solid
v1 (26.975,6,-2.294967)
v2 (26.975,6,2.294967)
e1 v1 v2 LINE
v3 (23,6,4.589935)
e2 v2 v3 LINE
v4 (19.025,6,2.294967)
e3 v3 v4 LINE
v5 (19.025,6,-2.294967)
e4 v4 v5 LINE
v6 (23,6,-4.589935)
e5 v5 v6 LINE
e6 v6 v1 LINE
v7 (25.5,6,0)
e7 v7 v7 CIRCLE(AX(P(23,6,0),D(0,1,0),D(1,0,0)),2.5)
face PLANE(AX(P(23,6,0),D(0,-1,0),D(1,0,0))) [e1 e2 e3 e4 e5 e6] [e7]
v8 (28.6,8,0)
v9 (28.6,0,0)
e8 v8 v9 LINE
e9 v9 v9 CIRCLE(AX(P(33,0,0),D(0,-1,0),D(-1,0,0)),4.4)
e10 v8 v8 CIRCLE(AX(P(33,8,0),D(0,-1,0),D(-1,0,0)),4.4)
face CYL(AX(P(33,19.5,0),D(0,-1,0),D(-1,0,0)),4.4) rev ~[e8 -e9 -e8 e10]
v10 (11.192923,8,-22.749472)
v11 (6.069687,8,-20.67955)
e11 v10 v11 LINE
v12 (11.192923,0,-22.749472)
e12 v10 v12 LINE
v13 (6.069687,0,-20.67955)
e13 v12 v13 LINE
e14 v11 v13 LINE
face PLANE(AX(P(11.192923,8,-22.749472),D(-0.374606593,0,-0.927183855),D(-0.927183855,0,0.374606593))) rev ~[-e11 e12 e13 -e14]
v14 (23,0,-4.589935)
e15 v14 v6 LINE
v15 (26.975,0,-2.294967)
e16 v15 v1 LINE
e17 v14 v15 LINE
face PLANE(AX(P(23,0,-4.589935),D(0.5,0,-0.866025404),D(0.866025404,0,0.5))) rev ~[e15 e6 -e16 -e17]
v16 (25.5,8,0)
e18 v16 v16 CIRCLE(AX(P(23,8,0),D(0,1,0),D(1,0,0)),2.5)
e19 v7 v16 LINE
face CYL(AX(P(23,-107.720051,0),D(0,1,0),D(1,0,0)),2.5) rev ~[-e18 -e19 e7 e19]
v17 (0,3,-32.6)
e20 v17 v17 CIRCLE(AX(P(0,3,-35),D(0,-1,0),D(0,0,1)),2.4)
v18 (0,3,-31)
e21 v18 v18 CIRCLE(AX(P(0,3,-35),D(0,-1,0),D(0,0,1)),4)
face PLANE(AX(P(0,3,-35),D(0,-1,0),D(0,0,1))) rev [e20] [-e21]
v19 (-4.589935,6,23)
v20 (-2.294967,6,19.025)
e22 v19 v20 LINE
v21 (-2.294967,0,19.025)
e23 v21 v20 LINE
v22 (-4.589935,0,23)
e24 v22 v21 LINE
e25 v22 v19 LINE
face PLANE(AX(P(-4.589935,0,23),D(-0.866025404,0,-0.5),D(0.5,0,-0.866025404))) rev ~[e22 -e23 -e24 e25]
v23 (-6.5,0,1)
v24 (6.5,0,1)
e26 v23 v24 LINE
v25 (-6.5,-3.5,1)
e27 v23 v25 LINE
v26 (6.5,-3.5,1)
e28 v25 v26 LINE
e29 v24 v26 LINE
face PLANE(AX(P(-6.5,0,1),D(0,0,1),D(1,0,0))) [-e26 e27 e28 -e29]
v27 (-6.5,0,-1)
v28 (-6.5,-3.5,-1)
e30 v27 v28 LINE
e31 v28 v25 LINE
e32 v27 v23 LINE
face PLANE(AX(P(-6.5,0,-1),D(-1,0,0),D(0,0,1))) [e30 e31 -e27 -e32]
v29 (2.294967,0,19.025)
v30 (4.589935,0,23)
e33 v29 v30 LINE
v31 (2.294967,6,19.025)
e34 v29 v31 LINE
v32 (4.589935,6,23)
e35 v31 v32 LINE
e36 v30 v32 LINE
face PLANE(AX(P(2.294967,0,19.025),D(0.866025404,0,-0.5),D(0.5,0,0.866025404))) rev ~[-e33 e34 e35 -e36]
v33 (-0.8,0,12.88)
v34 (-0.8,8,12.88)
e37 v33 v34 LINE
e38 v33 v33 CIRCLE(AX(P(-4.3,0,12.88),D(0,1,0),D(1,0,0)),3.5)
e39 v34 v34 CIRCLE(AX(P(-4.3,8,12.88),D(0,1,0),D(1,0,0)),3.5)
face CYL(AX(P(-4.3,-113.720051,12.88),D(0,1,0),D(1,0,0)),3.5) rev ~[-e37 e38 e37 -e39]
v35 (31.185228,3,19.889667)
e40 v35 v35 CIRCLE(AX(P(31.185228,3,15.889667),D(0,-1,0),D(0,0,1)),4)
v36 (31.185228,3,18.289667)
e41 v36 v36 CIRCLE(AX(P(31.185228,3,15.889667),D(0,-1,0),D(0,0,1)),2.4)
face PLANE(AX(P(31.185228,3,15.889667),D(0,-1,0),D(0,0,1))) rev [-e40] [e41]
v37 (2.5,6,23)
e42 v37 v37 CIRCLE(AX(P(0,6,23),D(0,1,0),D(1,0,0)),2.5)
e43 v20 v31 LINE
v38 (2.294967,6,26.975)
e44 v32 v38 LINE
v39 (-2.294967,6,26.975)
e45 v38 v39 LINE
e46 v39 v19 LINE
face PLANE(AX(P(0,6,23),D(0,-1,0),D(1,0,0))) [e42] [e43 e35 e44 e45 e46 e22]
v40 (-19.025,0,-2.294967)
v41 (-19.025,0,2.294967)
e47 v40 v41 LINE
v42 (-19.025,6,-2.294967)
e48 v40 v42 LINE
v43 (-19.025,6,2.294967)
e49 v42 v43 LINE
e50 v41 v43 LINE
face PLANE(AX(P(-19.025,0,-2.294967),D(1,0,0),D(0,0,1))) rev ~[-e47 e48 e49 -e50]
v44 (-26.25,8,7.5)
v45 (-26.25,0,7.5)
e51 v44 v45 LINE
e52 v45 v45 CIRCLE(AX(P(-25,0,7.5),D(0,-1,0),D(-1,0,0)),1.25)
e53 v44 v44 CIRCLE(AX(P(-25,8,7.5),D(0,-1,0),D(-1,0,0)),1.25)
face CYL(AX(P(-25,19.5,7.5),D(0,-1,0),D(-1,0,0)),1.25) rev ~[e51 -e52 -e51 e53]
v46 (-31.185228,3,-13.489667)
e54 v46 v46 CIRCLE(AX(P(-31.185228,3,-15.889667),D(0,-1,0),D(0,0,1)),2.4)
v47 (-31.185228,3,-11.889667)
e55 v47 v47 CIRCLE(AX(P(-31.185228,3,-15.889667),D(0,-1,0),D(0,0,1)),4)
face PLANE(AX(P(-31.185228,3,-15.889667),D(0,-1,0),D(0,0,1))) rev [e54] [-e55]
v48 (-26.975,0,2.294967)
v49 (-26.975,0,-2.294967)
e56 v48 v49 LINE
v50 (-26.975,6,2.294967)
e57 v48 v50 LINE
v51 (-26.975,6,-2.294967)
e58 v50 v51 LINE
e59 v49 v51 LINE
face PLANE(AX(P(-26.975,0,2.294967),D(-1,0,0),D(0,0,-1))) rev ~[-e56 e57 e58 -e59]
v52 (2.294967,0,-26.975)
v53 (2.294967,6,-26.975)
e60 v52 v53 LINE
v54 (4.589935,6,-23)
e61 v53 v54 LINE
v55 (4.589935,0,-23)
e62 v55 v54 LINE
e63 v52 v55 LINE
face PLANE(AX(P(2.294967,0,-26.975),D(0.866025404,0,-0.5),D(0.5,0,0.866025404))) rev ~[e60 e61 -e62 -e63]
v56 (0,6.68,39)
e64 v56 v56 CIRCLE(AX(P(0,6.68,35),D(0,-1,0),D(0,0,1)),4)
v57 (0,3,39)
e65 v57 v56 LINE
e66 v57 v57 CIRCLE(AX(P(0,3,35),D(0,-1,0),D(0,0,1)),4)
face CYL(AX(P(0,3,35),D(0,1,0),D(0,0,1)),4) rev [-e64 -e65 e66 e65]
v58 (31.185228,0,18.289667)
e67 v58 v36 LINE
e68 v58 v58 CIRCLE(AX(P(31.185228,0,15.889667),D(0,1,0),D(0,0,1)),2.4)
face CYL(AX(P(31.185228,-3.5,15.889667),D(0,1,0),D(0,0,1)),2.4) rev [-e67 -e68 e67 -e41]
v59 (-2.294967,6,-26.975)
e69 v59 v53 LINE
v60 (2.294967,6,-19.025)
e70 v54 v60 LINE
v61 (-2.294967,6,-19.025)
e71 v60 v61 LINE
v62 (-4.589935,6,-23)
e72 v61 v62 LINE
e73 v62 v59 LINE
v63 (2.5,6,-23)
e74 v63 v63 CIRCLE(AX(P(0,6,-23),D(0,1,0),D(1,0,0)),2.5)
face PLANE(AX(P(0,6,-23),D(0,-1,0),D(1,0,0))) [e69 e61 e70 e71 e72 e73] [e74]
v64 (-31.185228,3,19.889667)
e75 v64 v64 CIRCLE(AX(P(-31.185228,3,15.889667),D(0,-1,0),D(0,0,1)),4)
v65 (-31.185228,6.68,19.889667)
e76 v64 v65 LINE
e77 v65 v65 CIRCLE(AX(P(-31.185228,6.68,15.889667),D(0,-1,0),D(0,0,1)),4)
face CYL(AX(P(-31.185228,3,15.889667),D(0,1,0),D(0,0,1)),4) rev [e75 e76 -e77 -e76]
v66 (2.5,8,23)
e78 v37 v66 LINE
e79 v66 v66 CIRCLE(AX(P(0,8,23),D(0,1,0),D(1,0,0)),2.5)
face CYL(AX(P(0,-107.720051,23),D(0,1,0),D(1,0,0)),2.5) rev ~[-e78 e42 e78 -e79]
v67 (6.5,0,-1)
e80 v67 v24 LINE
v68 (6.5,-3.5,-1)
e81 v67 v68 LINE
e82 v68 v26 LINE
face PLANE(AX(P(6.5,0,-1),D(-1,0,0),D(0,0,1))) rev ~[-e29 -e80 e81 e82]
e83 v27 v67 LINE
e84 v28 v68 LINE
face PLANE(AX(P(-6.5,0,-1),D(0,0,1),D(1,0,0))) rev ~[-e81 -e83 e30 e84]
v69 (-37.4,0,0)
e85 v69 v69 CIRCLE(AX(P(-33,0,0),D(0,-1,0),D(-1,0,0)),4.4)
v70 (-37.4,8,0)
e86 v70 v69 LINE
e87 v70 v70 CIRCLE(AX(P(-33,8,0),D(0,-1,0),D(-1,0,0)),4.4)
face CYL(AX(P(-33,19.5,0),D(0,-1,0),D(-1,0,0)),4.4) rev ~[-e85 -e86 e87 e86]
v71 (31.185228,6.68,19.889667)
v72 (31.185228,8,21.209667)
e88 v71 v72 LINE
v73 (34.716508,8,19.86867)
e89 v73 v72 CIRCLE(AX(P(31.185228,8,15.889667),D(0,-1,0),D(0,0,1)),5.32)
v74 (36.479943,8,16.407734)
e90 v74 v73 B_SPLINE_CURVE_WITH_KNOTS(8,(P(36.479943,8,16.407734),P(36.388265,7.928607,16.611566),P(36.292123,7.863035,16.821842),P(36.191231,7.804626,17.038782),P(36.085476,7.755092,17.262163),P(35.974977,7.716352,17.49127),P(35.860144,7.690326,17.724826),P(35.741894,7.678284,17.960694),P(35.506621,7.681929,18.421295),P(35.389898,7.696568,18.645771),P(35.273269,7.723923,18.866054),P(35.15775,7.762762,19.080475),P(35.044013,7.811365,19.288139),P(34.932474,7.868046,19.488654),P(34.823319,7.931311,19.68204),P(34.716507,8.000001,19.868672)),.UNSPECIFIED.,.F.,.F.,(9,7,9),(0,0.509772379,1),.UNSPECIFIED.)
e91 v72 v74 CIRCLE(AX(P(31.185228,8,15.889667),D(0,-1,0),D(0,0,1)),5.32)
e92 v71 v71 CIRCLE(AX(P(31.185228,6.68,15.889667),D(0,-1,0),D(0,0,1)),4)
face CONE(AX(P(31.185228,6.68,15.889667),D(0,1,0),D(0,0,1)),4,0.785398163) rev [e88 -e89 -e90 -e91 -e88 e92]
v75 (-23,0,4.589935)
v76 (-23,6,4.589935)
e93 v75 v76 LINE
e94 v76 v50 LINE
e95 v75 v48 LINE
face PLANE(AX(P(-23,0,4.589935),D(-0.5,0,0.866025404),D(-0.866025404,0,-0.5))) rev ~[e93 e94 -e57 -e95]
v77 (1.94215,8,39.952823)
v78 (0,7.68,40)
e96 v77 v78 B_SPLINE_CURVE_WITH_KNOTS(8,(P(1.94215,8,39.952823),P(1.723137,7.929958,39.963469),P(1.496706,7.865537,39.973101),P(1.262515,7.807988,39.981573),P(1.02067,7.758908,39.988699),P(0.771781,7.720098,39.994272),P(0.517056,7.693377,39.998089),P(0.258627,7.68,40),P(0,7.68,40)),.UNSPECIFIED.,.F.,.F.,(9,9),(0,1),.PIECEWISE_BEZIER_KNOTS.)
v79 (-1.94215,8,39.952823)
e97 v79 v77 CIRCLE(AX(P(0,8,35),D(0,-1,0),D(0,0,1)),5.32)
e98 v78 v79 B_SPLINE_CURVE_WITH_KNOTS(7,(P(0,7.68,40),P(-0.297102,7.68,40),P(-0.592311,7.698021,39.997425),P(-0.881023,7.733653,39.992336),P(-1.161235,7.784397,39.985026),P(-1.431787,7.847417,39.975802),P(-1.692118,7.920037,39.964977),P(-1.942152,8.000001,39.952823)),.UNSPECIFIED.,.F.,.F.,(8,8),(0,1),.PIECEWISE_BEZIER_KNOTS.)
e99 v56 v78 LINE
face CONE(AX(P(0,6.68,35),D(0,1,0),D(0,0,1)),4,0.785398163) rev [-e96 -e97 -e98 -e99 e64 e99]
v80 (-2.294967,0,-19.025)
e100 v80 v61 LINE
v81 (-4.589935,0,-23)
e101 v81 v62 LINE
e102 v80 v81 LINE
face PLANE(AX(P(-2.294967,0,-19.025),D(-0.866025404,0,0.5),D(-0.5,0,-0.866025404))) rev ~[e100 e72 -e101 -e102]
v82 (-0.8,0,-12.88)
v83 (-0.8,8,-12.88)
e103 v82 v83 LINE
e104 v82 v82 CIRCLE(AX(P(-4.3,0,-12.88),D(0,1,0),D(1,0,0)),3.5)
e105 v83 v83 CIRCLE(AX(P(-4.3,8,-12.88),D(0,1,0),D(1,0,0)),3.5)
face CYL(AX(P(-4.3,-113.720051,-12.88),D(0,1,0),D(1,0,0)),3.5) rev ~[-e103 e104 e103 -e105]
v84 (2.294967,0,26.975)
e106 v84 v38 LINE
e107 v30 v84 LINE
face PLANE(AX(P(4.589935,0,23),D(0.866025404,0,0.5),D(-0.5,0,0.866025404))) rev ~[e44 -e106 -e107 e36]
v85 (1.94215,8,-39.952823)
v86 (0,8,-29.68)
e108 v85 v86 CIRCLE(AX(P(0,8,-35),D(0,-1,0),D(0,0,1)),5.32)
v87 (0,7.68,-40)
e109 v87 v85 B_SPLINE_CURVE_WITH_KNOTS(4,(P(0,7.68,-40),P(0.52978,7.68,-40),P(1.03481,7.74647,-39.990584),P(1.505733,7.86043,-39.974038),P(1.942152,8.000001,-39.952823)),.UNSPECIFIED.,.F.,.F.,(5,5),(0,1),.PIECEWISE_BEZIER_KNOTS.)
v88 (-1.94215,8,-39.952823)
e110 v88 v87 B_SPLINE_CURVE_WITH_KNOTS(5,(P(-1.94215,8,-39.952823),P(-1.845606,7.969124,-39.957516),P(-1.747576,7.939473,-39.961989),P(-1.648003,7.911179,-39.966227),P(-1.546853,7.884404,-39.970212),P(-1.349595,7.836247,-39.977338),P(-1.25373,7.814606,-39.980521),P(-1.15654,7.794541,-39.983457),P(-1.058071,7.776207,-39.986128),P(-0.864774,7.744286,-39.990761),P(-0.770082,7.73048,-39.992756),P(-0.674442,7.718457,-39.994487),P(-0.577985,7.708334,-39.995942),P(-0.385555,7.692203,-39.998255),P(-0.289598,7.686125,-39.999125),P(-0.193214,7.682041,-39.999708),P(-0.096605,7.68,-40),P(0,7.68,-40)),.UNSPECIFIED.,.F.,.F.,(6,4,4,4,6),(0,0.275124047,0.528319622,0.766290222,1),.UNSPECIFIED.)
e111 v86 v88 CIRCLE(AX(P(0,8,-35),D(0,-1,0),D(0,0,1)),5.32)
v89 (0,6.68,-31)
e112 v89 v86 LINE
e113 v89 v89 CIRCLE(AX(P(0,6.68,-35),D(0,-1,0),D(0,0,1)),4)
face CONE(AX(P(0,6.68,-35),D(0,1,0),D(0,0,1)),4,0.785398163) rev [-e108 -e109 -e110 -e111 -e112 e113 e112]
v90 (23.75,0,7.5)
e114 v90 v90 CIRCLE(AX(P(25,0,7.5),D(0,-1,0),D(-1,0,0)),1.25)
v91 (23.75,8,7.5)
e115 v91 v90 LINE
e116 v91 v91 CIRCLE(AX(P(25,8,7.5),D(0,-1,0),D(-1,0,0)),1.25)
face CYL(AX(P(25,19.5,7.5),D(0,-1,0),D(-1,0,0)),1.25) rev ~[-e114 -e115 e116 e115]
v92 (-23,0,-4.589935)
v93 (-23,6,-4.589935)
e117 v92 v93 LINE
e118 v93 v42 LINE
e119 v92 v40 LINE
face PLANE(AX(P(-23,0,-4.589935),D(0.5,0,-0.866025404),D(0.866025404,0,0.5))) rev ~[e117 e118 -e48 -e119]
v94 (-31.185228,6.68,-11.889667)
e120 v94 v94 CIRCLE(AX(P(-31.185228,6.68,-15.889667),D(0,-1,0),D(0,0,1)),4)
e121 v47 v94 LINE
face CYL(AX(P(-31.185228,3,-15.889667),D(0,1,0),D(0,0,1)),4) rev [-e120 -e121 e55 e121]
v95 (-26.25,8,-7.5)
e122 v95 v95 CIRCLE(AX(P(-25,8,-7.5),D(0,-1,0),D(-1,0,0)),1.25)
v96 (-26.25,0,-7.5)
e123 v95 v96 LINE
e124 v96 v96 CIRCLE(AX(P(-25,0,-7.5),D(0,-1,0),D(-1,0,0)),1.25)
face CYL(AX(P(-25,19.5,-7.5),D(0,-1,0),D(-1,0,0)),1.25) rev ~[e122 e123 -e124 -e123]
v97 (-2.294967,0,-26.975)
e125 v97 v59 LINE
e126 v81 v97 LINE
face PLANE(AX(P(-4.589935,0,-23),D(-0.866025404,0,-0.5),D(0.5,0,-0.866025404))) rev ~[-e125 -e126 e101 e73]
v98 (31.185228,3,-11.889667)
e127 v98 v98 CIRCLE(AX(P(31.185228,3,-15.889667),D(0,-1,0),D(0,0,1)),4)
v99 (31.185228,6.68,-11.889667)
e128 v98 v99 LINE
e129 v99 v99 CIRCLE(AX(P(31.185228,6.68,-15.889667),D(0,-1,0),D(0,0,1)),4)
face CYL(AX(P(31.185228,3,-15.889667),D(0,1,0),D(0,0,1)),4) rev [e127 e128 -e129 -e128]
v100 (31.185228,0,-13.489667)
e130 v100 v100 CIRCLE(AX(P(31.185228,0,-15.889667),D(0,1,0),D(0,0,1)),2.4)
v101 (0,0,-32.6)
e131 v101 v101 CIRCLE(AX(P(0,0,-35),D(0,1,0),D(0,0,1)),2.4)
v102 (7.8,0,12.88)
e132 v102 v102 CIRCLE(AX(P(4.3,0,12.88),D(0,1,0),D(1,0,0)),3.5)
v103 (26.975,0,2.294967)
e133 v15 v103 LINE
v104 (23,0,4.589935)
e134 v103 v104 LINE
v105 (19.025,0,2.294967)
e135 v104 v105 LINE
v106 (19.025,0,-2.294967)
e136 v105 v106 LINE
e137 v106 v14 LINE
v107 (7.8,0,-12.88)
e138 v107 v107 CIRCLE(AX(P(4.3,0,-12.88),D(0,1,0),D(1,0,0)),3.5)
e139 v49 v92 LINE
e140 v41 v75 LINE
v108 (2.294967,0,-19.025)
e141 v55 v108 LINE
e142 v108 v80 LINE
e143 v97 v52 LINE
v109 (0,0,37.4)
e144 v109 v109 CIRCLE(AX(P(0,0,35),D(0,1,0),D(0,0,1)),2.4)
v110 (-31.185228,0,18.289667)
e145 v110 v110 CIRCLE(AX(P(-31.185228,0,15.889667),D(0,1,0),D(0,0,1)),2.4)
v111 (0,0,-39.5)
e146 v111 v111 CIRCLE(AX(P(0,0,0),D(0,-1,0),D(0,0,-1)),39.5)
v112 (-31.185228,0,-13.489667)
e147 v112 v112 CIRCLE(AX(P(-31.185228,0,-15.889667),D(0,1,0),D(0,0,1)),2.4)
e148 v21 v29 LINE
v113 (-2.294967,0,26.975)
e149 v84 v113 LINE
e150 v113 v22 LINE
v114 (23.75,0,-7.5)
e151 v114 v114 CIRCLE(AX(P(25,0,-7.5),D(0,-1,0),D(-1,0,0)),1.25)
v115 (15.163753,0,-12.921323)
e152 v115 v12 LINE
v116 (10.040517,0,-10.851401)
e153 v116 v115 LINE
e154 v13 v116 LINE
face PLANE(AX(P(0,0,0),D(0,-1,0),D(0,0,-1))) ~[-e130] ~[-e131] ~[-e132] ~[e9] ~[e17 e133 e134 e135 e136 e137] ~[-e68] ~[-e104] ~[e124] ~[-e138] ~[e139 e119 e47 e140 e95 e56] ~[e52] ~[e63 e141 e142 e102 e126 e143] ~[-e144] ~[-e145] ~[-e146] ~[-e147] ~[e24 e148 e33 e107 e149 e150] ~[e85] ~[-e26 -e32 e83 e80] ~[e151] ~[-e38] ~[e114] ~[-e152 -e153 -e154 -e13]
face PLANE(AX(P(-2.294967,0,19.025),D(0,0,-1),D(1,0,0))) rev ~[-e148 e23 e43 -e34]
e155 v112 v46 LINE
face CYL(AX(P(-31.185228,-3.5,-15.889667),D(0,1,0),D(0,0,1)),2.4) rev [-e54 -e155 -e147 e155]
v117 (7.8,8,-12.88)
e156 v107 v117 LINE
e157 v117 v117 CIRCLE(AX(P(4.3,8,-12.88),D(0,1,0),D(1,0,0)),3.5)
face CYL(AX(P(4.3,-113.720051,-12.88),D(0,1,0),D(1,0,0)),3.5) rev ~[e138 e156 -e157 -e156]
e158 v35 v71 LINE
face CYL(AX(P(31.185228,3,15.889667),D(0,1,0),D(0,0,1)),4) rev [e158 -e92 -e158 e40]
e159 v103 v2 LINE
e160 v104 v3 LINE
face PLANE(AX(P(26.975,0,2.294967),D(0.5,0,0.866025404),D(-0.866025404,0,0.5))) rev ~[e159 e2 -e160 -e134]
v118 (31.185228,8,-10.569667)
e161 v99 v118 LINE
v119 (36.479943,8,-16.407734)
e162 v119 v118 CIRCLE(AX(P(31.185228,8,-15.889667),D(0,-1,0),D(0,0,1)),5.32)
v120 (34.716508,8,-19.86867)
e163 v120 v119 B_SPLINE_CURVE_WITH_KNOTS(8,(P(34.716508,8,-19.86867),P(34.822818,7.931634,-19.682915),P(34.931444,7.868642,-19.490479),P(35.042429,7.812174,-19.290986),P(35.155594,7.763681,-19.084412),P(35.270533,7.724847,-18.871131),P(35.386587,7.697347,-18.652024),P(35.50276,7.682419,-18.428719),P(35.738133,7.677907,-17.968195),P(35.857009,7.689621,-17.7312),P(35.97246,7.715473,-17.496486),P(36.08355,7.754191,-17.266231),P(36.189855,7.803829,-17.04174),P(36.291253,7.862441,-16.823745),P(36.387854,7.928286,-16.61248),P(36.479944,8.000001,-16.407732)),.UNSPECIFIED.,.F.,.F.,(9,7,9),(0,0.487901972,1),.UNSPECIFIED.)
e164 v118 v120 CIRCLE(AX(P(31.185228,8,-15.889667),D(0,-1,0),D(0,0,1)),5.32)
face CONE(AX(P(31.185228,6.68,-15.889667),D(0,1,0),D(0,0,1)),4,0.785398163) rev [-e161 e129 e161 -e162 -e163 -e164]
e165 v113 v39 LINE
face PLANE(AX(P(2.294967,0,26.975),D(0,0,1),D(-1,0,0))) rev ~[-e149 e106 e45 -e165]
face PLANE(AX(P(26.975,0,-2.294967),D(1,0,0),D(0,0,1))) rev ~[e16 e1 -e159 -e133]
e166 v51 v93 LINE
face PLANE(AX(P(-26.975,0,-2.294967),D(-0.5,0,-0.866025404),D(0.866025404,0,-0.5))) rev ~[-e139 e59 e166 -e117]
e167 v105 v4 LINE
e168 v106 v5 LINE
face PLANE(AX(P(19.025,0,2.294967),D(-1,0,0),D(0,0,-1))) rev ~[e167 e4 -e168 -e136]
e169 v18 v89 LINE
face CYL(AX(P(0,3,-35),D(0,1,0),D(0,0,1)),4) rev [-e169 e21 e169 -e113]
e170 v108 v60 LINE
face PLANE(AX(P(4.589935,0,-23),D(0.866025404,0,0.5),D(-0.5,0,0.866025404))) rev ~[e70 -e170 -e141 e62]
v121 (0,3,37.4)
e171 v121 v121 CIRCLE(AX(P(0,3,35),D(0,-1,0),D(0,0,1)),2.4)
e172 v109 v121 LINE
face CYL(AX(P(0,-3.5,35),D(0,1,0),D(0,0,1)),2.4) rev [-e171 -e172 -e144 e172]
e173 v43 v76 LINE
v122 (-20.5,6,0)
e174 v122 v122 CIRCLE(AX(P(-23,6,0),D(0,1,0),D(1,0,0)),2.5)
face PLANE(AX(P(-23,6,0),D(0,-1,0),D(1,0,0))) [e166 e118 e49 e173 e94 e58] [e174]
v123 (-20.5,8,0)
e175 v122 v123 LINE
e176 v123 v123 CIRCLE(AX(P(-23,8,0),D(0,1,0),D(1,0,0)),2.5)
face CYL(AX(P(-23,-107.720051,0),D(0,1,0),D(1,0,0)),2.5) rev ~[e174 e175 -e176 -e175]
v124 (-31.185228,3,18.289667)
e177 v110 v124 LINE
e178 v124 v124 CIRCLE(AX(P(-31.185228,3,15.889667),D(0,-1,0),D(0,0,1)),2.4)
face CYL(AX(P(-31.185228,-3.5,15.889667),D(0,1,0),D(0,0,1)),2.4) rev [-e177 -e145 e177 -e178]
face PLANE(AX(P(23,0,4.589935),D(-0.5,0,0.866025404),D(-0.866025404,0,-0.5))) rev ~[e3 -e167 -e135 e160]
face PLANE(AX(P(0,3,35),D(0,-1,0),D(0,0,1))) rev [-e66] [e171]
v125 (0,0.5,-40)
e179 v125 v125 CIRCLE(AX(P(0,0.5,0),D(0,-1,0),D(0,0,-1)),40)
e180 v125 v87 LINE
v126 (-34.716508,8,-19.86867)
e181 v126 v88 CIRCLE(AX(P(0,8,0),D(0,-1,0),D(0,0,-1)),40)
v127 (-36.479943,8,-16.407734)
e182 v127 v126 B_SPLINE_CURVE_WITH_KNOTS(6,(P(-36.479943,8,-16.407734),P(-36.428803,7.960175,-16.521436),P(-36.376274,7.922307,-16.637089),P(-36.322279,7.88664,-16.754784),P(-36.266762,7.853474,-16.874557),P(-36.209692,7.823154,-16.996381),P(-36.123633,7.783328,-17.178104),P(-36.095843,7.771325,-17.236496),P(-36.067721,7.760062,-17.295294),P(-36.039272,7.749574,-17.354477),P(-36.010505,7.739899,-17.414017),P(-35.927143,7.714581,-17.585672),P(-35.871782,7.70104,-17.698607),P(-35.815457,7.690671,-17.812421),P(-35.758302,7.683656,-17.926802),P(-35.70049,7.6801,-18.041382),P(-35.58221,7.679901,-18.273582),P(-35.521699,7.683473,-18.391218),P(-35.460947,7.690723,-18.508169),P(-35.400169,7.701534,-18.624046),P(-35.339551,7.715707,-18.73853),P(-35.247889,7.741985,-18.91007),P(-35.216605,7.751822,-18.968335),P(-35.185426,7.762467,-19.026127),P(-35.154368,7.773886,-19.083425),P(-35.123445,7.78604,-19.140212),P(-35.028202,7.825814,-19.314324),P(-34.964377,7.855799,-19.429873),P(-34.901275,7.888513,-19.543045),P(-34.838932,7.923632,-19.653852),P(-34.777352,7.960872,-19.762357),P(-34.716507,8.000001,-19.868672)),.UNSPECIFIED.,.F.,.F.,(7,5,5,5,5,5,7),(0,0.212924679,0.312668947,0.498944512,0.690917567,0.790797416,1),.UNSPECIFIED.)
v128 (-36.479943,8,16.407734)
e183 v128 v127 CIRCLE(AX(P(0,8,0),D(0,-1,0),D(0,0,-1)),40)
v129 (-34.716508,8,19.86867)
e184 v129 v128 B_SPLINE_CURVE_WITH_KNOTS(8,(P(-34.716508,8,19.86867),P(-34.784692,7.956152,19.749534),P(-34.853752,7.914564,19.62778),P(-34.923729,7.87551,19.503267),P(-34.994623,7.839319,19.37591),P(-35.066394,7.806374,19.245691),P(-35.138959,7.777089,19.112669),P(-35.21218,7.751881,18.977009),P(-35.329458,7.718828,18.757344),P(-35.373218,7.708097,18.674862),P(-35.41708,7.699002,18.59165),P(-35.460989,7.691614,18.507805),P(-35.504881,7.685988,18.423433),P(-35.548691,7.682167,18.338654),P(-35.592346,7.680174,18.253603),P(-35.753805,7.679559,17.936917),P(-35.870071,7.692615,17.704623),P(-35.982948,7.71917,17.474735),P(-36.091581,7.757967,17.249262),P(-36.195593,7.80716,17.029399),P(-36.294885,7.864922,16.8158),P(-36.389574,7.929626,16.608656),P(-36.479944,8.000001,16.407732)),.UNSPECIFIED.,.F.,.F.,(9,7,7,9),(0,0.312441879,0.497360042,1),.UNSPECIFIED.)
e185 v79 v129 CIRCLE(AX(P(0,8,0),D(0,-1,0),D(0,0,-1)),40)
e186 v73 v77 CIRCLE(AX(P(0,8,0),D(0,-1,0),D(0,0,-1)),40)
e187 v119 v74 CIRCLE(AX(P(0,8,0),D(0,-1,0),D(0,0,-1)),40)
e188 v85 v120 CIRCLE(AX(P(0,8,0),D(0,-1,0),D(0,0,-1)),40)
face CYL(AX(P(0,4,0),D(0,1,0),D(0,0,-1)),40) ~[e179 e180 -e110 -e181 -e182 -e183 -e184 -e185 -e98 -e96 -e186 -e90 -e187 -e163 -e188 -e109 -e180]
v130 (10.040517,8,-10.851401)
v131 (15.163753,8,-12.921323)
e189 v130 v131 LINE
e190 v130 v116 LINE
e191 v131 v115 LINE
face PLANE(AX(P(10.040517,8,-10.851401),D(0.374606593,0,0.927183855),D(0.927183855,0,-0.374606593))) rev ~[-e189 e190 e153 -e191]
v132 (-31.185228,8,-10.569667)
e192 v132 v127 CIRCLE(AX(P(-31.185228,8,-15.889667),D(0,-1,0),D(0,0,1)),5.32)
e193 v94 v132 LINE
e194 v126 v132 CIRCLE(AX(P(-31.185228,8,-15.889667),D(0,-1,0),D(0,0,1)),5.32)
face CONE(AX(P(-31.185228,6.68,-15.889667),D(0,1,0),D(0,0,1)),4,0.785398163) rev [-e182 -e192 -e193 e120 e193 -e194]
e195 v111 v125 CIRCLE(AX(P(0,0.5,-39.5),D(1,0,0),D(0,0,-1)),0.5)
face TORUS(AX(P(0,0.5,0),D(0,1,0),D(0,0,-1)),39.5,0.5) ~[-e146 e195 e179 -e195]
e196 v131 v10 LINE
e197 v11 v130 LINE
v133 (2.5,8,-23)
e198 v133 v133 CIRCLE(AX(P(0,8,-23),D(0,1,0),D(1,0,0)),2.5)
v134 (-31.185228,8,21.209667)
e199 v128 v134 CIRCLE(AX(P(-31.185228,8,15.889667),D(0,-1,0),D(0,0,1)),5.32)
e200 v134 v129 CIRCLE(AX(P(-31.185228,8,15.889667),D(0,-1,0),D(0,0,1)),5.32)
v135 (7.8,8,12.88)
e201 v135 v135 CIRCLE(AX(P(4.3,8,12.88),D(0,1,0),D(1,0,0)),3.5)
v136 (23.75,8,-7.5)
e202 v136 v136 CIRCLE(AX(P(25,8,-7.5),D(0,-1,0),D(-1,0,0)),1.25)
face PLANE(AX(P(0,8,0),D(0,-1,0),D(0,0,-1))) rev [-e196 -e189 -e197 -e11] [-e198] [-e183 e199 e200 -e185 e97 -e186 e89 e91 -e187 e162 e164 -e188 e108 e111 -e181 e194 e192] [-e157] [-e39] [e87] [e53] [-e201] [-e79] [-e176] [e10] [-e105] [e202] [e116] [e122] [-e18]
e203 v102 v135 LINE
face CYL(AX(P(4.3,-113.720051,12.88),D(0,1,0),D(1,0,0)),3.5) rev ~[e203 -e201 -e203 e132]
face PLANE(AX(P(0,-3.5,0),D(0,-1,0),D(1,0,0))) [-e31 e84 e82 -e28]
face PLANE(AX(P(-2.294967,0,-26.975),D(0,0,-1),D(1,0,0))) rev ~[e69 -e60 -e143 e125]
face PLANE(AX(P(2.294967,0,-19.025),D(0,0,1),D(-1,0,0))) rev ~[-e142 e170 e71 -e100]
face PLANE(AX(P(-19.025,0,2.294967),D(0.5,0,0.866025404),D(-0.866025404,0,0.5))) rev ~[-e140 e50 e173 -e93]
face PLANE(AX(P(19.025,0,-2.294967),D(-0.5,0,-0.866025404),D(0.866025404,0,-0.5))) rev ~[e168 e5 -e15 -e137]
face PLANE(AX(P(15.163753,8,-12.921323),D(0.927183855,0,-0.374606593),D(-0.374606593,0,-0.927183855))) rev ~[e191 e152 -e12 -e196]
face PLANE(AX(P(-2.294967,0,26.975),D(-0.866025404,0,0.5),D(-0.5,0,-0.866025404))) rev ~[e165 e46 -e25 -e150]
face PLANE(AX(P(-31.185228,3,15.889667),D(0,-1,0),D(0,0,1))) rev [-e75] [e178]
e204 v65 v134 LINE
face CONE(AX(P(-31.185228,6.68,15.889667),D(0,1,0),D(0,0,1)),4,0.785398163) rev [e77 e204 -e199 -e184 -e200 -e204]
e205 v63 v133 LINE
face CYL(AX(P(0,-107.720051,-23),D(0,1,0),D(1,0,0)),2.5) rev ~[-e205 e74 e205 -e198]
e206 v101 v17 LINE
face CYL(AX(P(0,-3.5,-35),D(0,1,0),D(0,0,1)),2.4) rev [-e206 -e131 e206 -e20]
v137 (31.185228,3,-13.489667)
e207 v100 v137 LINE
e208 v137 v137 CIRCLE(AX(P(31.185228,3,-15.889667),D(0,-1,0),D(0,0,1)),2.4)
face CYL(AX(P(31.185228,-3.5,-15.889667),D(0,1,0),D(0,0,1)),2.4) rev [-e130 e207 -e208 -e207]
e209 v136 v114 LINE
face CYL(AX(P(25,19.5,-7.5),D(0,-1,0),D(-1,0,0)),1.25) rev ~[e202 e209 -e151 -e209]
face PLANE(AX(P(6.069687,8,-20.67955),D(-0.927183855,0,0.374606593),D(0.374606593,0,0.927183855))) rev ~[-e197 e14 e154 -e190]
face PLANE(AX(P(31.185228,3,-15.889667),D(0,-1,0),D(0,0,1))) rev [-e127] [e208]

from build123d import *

# Parameters (mm, degrees)
SKETCH1_W                                     = 40
SKETCH1_H                                     = 8
CUT_EXTRUDE1_DEPTH                            = 58.131427428
SKETCH3_W                                     = 13
SKETCH3_H                                     = 2
BOSS_EXTRUDE1_DEPTH                           = 3.5
CUT_EXTRUDE2_DEPTH                            = 6
CUT_EXTRUDE3_DEPTH                            = 6
CUT_EXTRUDE4_DEPTH                            = 6
CUT_EXTRUDE5_DEPTH                            = 6
F_7_0_7_DIAMETER_HOLE1_D                      = 7
F_2_5_2_5_DIAMETER_HOLE1_D                    = 2.5
F_2_5_2_5_DIAMETER_HOLE1_DEPTH                = 11.5
F_8_8_8_8_DIAMETER_HOLE1_D                    = 8.8
F_8_8_8_8_DIAMETER_HOLE1_DEPTH                = 11.5
CBORE_FOR_M4_HEX_HEAD_MACHINE_SCREW1_AT_COUNT = 2
CBORE_FOR_M4_HEX_HEAD_MACHINE_SCREW1_AT_PITCH = 36.57489953
CBORE_FOR_M4_HEX_HEAD_MACHINE_SCREW1_2_COUNT  = 2
CBORE_FOR_M4_HEX_HEAD_MACHINE_SCREW1_2_PITCH  = 62.370456693
CBORE_FOR_M4_HEX_HEAD_MACHINE_SCREW1_3_COUNT  = 2
CBORE_FOR_M4_HEX_HEAD_MACHINE_SCREW1_3_PITCH  = 31.779334982
CBORE_FOR_M4_HEX_HEAD_MACHINE_SCREW1_4_COUNT  = 2
CBORE_FOR_M4_HEX_HEAD_MACHINE_SCREW1_4_PITCH  = 59.684811505
CBORE_FOR_M4_HEX_HEAD_MACHINE_SCREW1_5_COUNT  = 2
CBORE_FOR_M4_HEX_HEAD_MACHINE_SCREW1_5_PITCH  = 70
F_5_0_5_DIAMETER_HOLE1_D                      = 5
FILLET1_R                                     = 0.5


with BuildPart() as part:
    # Sketch1 → Revolve1 (revolve)
    with BuildSketch(Plane.XY, mode=Mode.PRIVATE) as revolve1_sk:
        with Locations((20, 4)):
            Rectangle(SKETCH1_W, SKETCH1_H)
    revolve(revolve1_sk.sketch.rotate(Axis((0, 8, 0), (0, -1, 0)), 270), axis=Axis((0, 8, 0), (0, -1, 0)))

    # Sketch2 → Cut-Extrude1 (cut, through all)
    with BuildSketch(Plane(origin=(0, 8, 0), x_dir=(-1, 0, 0), z_dir=(0, 1, 0))):
        Polygon((-6.069687354, -20.679550025), (-10.040517244, -10.851401166), (-15.163753313, -12.921322899), (-11.192923423, -22.749471758), align=None)
    extrude(amount=-CUT_EXTRUDE1_DEPTH, mode=Mode.SUBTRACT)

    # Sketch3 → Boss-Extrude1 (add)
    with BuildSketch(Plane.XZ):
        Rectangle(SKETCH3_W, SKETCH3_H)
    extrude(amount=BOSS_EXTRUDE1_DEPTH)

    # Sketch4 → Cut-Extrude2 (cut)
    with BuildSketch(Plane.XZ):
        Polygon((-2.29496732, 26.975), (-4.58993464, 23), (-2.29496732, 19.025), (2.29496732, 19.025), (4.58993464, 23), (2.29496732, 26.975), align=None)
    extrude(amount=-CUT_EXTRUDE2_DEPTH, mode=Mode.SUBTRACT)

    # Sketch5 → Cut-Extrude3 (cut)
    with BuildSketch(Plane.XZ):
        Polygon((-26.975, -2.29496732), (-23, -4.58993464), (-19.025, -2.29496732), (-19.025, 2.29496732), (-23, 4.58993464), (-26.975, 2.29496732), align=None)
    extrude(amount=-CUT_EXTRUDE3_DEPTH, mode=Mode.SUBTRACT)

    # Sketch6 → Cut-Extrude4 (cut)
    with BuildSketch(Plane.XZ):
        Polygon((2.29496732, -26.975), (4.58993464, -23), (2.29496732, -19.025), (-2.29496732, -19.025), (-4.58993464, -23), (-2.29496732, -26.975), align=None)
    extrude(amount=-CUT_EXTRUDE4_DEPTH, mode=Mode.SUBTRACT)

    # Sketch7 → Cut-Extrude5 (cut)
    with BuildSketch(Plane.XZ):
        Polygon((26.975, 2.29496732), (23, 4.58993464), (19.025, 2.29496732), (19.025, -2.29496732), (23, -4.58993464), (26.975, -2.29496732), align=None)
    extrude(amount=-CUT_EXTRUDE5_DEPTH, mode=Mode.SUBTRACT)

    # Ø7.0 (7) Diameter Hole1 (through all)
    with Locations(Plane(origin=(0, 0, 0), x_dir=(-1, 0, 0), z_dir=(0, -1, 0))):
        with Locations((4.3, -12.88), (4.3, 12.88), (-4.3, 12.88), (-4.3, -12.88)):
            Hole(F_7_0_7_DIAMETER_HOLE1_D / 2)

    # Ø2.5 (2.5) Diameter Hole1
    with Locations(Plane(origin=(0, 8, 0), x_dir=(1, 0, 0), z_dir=(0, 1, 0))):
        with Locations((25, -7.5), (25, 7.5), (-25, 7.5), (-25, -7.5)):
            Hole(F_2_5_2_5_DIAMETER_HOLE1_D / 2, depth=F_2_5_2_5_DIAMETER_HOLE1_DEPTH)

    # Ø8.8 (8.8) Diameter Hole1
    with Locations(Plane(origin=(0, 8, 0), x_dir=(1, 0, 0), z_dir=(0, 1, 0))):
        with Locations((33, 0), (-33, 0)):
            Hole(F_8_8_8_8_DIAMETER_HOLE1_D / 2, depth=F_8_8_8_8_DIAMETER_HOLE1_DEPTH)

    # Sketch14 → CBORE for M4 Hex Head Machine Screw1 (revolve, cut)
    with BuildSketch(Plane(origin=(-31.185228347, 8, 15.889667491), x_dir=(0, 0, 1), z_dir=(1, 0, 0))):
        Polygon((0, 0), (0, 11.5), (2.4, 11.5), (2.4, 5), (4, 5), (4, 1.32), (5.32, 0), align=None)
    cbore_for_m4_hex_head_machine_screw1 = revolve(axis=Axis((-31.185228347, 14.35, 15.889667491), (0, -1, 0)), mode=Mode.SUBTRACT)

    # CBORE for M4 Hex Head Machine Screw1 at: CBORE for M4 Hex Head Machine Screw1 ×2
    with Locations(*[Vector(0.8526401643540931, 0, 0.5224985647159477) * (i * CBORE_FOR_M4_HEX_HEAD_MACHINE_SCREW1_AT_PITCH) for i in range(1, CBORE_FOR_M4_HEX_HEAD_MACHINE_SCREW1_AT_COUNT)]):
        add(cbore_for_m4_hex_head_machine_screw1, mode=Mode.SUBTRACT)

    # CBORE for M4 Hex Head Machine Screw1 2: CBORE for M4 Hex Head Machine Screw1 ×2
    with Locations(*[(i * CBORE_FOR_M4_HEX_HEAD_MACHINE_SCREW1_2_PITCH, 0, 0) for i in range(1, CBORE_FOR_M4_HEX_HEAD_MACHINE_SCREW1_2_COUNT)]):
        add(cbore_for_m4_hex_head_machine_screw1, mode=Mode.SUBTRACT)

    # CBORE for M4 Hex Head Machine Screw1 3: CBORE for M4 Hex Head Machine Screw1 ×2
    with Locations(*[(0, 0, -i * CBORE_FOR_M4_HEX_HEAD_MACHINE_SCREW1_3_PITCH) for i in range(1, CBORE_FOR_M4_HEX_HEAD_MACHINE_SCREW1_3_COUNT)]):
        add(cbore_for_m4_hex_head_machine_screw1, mode=Mode.SUBTRACT)

    # CBORE for M4 Hex Head Machine Screw1 4: CBORE for M4 Hex Head Machine Screw1 ×2
    with Locations(*[Vector(0.5224985647159471, 0, -0.8526401643540933) * (i * CBORE_FOR_M4_HEX_HEAD_MACHINE_SCREW1_4_PITCH) for i in range(1, CBORE_FOR_M4_HEX_HEAD_MACHINE_SCREW1_4_COUNT)]):
        add(cbore_for_m4_hex_head_machine_screw1, mode=Mode.SUBTRACT)

    # CBORE for M4 Hex Head Machine Screw1 5: CBORE for M4 Hex Head Machine Screw1 ×2
    with Locations(*[Vector(0.8910065241883662, 0, -0.45399049973955025) * (i * CBORE_FOR_M4_HEX_HEAD_MACHINE_SCREW1_5_PITCH) for i in range(1, CBORE_FOR_M4_HEX_HEAD_MACHINE_SCREW1_5_COUNT)]):
        add(cbore_for_m4_hex_head_machine_screw1, mode=Mode.SUBTRACT)

    # Ø5.0 (5) Diameter Hole1 (through all)
    with Locations(Plane(origin=(0, 6, 0), x_dir=(-1, 0, 0), z_dir=(0, -1, 0))):
        with Locations((-23, 0), (0, 23), (23, 0), (0, -23)):
            Hole(F_5_0_5_DIAMETER_HOLE1_D / 2)

    # Fillet1
    fillet1_edges = [part.edges().sort_by_distance(p)[0] for p in [
        (0, 0, 40),
    ]]
    fillet(fillet1_edges, radius=FILLET1_R)


solid = part.part
